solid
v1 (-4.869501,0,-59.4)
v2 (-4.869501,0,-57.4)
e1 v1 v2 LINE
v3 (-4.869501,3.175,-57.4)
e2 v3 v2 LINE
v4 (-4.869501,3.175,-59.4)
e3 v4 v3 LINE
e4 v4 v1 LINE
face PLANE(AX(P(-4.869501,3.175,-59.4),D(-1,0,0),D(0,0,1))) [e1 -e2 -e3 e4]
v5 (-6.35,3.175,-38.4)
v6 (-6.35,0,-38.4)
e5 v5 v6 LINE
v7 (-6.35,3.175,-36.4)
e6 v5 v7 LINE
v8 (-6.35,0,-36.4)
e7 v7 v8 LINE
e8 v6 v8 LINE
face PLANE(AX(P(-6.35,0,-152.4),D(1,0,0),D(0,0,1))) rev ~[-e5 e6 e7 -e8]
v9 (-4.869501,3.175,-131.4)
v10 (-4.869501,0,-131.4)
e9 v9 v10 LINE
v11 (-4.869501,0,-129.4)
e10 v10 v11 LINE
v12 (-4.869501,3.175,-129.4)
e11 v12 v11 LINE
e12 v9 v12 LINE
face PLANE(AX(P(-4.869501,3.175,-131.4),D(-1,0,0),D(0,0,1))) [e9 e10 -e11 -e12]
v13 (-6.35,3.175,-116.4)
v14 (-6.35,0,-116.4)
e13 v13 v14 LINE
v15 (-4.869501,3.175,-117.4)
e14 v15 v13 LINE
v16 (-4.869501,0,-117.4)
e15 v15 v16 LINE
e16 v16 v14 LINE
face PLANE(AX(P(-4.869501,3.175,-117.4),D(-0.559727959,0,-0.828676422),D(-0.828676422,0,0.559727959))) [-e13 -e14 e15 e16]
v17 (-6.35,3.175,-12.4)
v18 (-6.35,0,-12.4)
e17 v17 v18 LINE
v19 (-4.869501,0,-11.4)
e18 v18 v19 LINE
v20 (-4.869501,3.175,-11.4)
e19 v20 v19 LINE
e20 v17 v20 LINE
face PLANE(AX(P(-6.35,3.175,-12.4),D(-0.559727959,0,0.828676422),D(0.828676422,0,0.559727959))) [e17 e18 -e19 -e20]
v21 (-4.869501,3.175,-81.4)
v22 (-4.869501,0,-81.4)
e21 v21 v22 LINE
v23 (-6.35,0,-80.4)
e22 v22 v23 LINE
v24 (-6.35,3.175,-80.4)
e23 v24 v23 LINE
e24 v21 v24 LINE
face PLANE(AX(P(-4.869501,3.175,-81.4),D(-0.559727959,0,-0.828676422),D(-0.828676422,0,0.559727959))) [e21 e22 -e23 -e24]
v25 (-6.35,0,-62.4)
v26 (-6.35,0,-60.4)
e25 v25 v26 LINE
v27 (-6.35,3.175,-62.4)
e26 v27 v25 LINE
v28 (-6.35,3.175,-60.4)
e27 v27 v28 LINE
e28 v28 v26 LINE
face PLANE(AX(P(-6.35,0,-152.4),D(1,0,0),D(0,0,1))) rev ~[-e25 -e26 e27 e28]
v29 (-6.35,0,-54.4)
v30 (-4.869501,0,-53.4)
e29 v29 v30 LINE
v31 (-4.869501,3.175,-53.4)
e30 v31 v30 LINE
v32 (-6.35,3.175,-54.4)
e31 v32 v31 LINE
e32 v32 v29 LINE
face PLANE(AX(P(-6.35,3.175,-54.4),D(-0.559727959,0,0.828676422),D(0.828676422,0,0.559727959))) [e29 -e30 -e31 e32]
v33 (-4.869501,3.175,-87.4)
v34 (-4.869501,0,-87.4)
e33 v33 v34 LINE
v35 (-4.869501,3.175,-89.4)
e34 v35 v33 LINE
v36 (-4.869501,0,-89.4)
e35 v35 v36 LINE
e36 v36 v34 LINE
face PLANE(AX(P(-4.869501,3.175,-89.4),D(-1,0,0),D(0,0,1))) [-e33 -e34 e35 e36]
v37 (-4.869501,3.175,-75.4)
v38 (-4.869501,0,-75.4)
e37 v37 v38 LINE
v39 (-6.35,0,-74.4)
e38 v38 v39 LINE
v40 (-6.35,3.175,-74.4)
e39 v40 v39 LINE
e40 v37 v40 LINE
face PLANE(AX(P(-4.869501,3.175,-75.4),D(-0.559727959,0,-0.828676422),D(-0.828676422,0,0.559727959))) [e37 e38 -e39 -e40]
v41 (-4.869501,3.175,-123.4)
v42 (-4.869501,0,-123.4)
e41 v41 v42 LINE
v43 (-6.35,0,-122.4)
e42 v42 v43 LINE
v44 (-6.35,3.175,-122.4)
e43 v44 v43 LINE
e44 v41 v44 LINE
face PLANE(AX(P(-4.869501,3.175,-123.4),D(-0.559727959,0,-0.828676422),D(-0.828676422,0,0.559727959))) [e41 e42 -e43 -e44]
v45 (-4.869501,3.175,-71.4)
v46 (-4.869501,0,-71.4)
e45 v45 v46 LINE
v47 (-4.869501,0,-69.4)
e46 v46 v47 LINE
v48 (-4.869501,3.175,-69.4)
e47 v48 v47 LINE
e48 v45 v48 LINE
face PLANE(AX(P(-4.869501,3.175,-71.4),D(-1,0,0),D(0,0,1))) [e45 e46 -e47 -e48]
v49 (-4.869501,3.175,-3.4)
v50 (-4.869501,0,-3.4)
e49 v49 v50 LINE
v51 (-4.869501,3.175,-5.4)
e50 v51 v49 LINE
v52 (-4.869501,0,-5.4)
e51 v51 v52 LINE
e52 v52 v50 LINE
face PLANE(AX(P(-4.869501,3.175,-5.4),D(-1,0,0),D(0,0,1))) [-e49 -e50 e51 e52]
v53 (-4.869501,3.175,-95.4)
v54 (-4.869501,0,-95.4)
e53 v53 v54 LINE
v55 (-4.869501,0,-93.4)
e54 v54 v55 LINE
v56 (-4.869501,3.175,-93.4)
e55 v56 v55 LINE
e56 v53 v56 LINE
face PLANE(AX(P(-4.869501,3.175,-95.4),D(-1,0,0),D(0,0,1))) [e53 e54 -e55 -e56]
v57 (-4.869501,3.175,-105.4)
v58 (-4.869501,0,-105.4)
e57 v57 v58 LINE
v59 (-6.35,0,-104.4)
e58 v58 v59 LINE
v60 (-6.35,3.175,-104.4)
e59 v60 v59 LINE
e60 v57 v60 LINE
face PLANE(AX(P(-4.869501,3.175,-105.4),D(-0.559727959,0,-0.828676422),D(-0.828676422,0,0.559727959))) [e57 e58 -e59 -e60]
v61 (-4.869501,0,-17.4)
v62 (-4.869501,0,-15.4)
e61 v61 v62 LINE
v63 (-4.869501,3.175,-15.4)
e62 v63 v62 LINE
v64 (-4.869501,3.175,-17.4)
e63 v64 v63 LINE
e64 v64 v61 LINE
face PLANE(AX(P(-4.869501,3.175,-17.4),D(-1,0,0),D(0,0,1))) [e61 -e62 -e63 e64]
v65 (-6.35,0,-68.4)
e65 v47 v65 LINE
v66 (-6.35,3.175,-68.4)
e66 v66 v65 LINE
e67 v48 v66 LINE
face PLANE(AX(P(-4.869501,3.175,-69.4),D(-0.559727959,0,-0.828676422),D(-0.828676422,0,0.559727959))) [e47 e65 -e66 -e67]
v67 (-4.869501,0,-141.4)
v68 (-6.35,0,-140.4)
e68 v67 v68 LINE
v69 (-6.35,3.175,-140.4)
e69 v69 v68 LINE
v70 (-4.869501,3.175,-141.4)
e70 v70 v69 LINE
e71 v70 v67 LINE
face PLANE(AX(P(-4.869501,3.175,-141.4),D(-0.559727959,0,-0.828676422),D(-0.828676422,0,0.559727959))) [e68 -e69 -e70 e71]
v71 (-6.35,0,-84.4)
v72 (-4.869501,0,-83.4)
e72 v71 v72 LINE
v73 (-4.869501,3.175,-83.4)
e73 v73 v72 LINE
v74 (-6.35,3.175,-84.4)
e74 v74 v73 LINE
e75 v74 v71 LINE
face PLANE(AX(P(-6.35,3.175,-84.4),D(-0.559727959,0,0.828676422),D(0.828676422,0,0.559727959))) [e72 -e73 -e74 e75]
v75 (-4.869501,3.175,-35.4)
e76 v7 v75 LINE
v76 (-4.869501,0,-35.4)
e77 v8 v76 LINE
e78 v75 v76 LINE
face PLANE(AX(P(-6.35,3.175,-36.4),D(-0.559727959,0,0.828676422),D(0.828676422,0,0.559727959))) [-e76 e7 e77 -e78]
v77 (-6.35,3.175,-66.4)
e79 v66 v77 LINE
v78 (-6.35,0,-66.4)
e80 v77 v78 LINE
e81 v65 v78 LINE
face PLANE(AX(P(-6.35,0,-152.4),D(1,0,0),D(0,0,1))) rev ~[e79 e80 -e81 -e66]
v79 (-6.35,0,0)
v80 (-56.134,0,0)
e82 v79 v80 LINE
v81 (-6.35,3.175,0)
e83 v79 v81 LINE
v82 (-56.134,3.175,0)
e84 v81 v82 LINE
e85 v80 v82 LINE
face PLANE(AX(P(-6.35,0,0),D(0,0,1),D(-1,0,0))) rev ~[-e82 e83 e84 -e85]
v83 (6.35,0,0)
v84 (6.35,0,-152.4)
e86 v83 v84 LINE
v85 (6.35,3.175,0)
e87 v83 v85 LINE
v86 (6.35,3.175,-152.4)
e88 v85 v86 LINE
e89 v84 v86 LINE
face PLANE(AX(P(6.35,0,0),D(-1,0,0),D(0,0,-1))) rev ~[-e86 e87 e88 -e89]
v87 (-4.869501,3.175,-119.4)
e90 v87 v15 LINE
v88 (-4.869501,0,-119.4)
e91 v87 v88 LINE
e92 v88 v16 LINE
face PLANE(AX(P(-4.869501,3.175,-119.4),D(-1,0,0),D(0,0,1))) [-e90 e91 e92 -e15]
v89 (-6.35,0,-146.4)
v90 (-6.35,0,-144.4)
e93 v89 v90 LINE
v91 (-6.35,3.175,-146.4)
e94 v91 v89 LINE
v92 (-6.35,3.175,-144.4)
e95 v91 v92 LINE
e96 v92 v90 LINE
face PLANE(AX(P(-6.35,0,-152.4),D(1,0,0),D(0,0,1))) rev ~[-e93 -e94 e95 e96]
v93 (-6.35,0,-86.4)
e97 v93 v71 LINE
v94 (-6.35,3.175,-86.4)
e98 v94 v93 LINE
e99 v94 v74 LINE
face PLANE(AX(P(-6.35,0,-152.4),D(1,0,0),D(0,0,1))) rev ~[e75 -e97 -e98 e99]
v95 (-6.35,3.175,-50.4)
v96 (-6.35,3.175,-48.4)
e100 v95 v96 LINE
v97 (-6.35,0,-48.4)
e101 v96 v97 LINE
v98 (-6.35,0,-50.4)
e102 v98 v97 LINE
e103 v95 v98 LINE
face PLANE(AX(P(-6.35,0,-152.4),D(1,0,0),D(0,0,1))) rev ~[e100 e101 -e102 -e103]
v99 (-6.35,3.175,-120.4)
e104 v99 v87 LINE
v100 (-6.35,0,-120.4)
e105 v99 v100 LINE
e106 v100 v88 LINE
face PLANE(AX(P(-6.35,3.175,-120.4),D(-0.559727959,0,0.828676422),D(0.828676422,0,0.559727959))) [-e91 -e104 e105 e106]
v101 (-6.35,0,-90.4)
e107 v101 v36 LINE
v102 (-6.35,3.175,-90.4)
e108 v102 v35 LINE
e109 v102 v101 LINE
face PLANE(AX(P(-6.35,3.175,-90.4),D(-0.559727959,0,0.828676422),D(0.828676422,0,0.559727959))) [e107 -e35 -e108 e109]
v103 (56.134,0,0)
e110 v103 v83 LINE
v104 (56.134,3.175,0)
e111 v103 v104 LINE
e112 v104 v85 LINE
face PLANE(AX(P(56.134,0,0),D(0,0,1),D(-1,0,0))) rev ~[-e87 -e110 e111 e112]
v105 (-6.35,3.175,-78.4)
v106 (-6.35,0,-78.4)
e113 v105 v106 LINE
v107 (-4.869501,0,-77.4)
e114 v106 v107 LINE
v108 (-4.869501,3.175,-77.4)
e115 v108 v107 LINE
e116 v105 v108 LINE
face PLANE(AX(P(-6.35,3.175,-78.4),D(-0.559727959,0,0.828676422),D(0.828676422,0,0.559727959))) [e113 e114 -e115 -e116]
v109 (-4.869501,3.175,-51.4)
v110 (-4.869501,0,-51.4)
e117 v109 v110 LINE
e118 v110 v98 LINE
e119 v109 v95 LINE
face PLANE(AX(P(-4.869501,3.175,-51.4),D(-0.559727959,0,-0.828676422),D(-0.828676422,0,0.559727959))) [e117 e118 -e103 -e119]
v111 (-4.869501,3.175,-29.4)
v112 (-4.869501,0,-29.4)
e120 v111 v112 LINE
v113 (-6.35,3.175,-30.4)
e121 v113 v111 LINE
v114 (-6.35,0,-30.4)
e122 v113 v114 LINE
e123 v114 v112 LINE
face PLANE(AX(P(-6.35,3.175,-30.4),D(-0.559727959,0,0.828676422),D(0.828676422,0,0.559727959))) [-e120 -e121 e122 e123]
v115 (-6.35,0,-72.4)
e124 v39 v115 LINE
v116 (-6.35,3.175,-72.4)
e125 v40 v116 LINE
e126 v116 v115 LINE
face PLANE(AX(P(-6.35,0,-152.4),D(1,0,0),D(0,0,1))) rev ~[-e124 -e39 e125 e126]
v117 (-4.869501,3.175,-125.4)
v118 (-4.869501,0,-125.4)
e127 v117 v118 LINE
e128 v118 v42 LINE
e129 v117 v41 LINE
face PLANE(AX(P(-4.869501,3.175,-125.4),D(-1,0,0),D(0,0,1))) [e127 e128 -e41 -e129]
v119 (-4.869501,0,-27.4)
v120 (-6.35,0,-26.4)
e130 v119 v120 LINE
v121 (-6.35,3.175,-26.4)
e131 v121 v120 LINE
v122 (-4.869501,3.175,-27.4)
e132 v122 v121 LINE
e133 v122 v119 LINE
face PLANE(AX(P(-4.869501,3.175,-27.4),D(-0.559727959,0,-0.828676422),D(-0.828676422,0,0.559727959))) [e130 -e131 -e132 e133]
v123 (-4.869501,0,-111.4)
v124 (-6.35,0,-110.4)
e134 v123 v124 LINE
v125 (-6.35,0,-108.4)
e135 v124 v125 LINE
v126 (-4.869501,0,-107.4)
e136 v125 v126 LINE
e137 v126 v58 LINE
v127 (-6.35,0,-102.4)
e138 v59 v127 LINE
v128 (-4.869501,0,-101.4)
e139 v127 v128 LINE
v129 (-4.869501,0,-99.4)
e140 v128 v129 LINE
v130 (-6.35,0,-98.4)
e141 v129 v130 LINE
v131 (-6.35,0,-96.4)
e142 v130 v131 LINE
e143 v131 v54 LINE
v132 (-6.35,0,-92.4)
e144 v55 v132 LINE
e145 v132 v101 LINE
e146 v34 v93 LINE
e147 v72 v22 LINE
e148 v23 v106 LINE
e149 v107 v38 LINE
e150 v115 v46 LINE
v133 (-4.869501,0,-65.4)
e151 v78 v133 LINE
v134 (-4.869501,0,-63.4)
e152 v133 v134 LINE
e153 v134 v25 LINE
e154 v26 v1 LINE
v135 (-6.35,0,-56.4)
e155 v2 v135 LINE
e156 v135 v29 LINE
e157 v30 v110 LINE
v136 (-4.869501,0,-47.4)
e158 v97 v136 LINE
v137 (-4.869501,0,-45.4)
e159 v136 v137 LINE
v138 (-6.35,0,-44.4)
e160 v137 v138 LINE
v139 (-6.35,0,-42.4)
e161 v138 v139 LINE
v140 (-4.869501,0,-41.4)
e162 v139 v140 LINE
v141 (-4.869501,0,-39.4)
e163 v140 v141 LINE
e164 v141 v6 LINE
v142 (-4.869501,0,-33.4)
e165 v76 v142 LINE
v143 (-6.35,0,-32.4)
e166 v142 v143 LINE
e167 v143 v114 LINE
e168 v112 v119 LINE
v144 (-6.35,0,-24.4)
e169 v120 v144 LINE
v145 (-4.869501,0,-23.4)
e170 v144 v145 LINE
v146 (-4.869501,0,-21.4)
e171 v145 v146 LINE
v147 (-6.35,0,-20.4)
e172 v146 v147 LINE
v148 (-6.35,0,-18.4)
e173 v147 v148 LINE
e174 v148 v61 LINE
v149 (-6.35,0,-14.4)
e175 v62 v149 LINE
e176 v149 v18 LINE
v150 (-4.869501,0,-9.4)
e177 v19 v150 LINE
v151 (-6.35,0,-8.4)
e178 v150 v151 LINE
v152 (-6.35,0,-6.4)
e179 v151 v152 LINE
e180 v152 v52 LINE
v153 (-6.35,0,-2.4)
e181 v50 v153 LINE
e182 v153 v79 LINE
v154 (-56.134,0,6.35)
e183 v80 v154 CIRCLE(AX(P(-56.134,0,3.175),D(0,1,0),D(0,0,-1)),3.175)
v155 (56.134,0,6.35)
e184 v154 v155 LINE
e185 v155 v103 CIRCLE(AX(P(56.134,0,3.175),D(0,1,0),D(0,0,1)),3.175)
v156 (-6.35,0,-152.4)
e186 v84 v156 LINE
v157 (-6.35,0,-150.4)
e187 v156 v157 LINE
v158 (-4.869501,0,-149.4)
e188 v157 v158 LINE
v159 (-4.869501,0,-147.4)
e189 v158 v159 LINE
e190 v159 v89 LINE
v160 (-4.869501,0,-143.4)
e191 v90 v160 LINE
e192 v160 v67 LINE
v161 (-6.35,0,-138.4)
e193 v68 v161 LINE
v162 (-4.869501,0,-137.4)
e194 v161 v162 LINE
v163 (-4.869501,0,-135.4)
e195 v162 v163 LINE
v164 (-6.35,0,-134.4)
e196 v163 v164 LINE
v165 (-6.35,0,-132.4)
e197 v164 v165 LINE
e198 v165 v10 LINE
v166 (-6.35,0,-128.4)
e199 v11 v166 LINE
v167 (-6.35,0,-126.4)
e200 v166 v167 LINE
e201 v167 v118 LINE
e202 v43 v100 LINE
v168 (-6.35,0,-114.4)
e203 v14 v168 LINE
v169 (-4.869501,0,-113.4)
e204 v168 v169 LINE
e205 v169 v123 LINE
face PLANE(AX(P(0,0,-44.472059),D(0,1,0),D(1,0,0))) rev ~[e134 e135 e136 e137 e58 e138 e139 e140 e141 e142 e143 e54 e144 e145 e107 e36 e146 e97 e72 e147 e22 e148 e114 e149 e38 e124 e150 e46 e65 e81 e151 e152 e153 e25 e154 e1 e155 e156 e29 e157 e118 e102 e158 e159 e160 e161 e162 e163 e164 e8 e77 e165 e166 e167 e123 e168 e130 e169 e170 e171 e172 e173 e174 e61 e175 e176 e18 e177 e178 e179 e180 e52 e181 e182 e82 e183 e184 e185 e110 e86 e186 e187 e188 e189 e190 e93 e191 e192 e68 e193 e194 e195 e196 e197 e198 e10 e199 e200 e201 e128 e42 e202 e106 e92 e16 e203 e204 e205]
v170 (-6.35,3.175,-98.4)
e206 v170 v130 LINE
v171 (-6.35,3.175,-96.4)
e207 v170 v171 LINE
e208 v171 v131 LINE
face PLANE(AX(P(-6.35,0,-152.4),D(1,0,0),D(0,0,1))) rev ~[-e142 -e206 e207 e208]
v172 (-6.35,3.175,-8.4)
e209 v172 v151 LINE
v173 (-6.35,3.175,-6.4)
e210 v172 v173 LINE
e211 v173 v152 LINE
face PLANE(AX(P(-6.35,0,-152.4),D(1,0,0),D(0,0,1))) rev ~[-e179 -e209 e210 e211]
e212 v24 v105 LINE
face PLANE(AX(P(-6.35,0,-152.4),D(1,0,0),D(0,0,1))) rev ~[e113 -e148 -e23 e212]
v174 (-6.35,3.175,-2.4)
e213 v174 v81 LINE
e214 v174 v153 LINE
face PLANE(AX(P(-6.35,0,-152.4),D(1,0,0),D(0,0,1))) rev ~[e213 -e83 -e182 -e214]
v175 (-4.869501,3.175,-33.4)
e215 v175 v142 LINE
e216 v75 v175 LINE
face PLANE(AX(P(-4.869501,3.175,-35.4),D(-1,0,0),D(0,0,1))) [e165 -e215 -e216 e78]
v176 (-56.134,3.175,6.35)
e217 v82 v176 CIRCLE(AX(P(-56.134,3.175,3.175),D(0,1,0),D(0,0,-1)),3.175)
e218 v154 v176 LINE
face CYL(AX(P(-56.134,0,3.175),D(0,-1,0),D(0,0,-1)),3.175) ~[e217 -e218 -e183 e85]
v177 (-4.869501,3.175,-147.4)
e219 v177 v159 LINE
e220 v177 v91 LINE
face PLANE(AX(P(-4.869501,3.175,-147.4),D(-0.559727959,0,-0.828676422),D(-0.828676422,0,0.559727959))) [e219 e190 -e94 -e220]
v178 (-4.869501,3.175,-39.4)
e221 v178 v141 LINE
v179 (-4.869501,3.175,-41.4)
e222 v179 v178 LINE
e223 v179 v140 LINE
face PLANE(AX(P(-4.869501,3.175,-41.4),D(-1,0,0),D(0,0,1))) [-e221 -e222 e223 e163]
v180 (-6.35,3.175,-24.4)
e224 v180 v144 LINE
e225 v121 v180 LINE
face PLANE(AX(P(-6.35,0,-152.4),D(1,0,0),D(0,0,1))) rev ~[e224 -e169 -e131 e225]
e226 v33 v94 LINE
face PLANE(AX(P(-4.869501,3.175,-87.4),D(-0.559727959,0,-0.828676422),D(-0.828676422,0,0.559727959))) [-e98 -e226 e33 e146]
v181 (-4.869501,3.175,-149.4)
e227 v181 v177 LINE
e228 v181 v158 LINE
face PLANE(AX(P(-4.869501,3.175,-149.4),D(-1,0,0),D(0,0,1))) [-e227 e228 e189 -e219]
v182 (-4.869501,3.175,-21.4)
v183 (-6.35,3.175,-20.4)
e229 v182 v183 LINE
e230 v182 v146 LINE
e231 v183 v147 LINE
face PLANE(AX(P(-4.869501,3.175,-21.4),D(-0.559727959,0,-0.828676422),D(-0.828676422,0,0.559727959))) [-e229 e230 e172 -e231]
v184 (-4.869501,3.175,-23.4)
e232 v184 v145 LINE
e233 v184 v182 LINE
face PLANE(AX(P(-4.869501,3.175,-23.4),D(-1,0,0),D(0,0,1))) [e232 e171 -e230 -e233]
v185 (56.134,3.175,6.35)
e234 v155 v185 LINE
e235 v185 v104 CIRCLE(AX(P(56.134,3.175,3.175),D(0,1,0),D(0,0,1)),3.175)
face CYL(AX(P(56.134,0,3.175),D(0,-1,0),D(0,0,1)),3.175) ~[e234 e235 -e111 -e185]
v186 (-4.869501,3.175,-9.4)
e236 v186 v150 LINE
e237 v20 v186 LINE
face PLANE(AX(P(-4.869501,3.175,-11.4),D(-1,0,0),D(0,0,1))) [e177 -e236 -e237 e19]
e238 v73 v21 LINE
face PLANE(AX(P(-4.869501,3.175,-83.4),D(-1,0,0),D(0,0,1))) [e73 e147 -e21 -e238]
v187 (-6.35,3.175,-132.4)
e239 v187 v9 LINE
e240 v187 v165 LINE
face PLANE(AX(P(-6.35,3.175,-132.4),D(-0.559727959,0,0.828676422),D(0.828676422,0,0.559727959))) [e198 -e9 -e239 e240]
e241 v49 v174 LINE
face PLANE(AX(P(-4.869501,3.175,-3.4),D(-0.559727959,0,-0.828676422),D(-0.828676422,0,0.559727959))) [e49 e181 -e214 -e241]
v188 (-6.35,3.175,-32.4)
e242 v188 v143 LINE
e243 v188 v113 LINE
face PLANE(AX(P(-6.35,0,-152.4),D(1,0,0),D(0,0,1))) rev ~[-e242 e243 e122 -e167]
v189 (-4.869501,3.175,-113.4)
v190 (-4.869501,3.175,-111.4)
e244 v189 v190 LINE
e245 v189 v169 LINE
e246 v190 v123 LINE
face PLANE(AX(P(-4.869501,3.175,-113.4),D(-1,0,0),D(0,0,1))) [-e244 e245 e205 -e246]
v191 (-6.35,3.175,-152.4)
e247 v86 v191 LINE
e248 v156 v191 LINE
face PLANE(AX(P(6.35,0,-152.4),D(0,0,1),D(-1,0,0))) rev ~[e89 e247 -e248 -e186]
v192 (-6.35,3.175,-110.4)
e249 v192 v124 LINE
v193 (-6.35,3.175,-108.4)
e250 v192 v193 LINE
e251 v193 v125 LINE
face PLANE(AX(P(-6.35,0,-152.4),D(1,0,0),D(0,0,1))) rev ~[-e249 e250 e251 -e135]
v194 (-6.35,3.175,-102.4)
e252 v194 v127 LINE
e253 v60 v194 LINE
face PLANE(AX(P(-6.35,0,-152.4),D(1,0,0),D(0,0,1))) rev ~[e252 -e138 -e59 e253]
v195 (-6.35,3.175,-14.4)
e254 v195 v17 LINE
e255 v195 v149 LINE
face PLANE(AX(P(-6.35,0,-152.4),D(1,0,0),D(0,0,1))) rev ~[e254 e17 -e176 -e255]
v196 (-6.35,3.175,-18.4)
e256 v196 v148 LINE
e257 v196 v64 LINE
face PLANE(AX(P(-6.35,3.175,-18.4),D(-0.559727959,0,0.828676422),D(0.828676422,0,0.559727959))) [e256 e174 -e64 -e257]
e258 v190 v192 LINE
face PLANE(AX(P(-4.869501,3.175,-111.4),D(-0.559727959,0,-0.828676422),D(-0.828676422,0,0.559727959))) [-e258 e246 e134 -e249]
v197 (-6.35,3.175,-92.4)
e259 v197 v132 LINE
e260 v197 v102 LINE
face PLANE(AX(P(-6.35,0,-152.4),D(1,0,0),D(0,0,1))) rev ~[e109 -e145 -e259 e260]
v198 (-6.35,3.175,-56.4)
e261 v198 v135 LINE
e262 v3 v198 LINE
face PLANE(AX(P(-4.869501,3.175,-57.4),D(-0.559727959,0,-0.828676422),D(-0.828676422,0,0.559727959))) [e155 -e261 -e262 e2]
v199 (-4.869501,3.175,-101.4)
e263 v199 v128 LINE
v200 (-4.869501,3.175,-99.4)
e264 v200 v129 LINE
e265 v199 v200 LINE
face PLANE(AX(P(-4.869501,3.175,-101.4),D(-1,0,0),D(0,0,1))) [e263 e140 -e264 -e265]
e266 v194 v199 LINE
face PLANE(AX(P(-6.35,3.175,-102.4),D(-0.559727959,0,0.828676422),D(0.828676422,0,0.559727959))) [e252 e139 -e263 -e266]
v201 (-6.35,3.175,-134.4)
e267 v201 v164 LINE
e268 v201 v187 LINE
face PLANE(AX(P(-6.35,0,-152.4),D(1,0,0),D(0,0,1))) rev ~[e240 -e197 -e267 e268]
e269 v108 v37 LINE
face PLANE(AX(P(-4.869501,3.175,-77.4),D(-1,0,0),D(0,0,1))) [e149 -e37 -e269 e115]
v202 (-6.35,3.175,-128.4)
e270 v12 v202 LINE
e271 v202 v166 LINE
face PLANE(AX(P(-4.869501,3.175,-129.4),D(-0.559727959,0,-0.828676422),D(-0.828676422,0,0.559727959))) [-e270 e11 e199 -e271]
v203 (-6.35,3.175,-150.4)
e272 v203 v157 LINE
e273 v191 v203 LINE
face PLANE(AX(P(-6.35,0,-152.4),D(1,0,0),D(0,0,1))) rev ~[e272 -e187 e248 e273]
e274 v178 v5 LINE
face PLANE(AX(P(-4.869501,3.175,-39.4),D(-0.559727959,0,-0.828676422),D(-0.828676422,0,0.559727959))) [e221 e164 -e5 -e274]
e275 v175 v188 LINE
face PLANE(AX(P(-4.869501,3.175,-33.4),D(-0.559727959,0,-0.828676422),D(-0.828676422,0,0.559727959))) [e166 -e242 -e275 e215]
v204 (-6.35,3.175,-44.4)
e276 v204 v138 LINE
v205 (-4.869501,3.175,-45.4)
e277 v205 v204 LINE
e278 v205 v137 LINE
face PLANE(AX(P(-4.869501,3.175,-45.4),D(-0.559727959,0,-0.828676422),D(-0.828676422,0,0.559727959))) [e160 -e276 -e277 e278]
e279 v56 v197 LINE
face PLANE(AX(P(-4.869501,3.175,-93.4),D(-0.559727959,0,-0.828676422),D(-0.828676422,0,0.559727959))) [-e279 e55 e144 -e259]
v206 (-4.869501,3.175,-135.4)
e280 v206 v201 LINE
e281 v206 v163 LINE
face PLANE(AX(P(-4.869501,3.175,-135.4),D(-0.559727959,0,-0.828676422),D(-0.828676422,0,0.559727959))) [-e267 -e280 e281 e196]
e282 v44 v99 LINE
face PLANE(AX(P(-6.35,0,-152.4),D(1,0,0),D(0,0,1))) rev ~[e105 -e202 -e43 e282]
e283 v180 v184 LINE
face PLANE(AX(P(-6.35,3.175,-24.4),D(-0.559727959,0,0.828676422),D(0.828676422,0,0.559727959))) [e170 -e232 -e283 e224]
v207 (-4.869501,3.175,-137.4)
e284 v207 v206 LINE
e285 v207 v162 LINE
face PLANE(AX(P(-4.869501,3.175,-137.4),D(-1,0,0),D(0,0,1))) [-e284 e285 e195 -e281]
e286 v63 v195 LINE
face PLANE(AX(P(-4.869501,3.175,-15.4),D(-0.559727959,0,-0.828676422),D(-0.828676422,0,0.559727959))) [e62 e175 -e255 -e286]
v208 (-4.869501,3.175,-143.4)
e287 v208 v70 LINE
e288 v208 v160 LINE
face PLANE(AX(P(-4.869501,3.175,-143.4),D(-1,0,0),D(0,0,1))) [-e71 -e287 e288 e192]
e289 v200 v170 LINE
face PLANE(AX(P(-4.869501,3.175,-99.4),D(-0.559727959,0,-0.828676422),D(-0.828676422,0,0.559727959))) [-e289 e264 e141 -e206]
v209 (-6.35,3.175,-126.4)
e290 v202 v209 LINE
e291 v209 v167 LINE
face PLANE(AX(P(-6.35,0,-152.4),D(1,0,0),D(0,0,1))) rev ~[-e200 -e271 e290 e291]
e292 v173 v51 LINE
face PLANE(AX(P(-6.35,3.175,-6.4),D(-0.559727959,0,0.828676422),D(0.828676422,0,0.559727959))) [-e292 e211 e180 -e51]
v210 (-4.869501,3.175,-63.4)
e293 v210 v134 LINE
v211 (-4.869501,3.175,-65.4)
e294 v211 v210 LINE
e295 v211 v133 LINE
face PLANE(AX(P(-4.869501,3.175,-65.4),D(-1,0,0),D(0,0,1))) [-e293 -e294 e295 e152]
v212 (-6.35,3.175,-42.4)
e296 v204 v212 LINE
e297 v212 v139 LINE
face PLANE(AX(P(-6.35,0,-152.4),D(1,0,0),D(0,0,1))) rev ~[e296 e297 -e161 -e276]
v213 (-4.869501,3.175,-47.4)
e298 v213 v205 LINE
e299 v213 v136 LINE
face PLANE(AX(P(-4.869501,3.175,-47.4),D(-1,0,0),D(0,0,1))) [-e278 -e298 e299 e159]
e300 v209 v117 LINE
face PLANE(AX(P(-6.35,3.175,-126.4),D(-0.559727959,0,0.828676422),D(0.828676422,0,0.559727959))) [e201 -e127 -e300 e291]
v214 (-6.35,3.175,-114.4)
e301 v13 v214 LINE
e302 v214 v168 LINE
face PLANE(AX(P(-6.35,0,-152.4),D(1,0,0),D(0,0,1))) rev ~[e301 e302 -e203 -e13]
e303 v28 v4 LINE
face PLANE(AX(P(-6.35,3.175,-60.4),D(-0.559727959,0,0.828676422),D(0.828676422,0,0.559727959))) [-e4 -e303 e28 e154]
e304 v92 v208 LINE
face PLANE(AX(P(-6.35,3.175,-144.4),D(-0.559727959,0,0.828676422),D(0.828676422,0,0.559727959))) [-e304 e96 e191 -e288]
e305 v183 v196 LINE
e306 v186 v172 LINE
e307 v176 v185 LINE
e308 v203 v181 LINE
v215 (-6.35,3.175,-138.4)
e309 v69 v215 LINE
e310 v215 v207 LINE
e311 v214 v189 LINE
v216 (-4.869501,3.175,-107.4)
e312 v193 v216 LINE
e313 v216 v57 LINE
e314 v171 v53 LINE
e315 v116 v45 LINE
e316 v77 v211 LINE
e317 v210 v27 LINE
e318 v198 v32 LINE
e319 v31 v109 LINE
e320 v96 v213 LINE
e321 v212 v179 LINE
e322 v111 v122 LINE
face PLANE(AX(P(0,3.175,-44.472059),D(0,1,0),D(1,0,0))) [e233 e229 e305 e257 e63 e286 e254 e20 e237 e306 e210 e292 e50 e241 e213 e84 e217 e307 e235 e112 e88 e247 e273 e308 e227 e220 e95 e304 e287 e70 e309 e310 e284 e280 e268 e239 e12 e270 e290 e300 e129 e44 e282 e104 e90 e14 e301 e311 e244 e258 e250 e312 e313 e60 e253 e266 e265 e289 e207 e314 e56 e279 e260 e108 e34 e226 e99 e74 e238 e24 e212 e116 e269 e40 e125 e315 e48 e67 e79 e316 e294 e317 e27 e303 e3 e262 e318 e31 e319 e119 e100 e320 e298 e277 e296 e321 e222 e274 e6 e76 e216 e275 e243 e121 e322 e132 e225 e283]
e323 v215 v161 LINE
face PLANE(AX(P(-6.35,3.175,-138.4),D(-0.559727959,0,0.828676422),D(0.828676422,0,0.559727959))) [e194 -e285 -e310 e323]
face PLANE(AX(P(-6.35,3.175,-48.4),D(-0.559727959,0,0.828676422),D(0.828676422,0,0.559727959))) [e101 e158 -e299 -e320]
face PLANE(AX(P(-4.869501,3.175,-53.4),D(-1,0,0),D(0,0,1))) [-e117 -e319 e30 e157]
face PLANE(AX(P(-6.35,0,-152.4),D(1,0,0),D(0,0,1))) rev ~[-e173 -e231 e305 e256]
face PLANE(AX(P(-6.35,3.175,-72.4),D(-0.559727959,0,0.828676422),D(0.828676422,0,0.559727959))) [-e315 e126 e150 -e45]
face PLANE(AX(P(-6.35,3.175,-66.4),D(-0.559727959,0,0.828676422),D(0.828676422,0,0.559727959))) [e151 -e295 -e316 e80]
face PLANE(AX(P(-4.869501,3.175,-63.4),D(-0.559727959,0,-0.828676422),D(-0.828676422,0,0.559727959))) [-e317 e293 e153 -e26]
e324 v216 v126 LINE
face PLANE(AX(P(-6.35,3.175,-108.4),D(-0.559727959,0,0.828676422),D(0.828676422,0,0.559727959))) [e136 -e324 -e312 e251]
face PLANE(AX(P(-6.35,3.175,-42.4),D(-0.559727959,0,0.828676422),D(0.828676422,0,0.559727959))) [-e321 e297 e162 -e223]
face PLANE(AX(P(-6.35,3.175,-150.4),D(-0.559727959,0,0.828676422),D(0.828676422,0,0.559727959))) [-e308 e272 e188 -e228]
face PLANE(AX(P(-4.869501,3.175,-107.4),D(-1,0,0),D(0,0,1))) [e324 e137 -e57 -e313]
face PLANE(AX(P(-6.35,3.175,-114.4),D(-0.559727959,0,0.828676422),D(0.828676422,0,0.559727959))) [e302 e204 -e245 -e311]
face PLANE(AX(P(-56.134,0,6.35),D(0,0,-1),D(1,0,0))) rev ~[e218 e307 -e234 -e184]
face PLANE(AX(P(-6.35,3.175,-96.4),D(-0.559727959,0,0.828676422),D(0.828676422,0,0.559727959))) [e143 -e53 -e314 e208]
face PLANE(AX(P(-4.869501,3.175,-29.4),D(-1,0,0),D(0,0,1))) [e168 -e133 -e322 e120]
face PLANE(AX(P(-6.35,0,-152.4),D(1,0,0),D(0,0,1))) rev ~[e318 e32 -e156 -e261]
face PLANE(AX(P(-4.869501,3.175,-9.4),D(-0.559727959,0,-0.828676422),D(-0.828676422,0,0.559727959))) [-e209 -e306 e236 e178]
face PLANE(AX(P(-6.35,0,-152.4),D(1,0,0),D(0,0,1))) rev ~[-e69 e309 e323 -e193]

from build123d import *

# Parameters (mm, degrees)
BOSS_EXTRUDE1_DEPTH = 3.175
CUT_EXTRUDE1_DEPTH  = 3.175
LPATTERN1_COUNT     = 25
LPATTERN1_PITCH     = 6


with BuildPart() as part:
    # Sketch1 → Boss-Extrude1 (new body)
    with BuildSketch(Plane(origin=(0, 0, 0), x_dir=(1, 0, 0), z_dir=(0, 1, 0))):
        with BuildLine():
            Line((-6.35, 0), (-56.134, 0))
            ThreePointArc((-56.134, 0), (-59.309, -3.175), (-56.134, -6.35))
            Line((-56.134, -6.35), (56.134, -6.35))
            ThreePointArc((56.134, -6.35), (59.309, -3.175), (56.134, 0))
            Line((56.134, 0), (6.35, 0))
            Line((6.35, 0), (6.35, 152.4))
            Line((6.35, 152.4), (-6.35, 152.4))
            Line((-6.35, 152.4), (-6.35, 0))
        make_face()
    extrude(amount=BOSS_EXTRUDE1_DEPTH)

    # Sketch2 → Cut-Extrude1 (cut)
    with BuildSketch(Plane(origin=(0, 3.175, 0), x_dir=(1, 0, 0), z_dir=(0, 1, 0))):
        Polygon((-6.35, 150.4), (-4.869501466, 149.4), (-4.869501466, 147.4), (-6.35, 146.4), align=None)
    cut_extrude1 = extrude(amount=-CUT_EXTRUDE1_DEPTH, mode=Mode.SUBTRACT)

    # LPattern1: Cut-Extrude1 ×25
    with Locations(*[(0, 0, i * LPATTERN1_PITCH) for i in range(1, LPATTERN1_COUNT)]):
        add(cut_extrude1, mode=Mode.SUBTRACT)


solid = part.part
